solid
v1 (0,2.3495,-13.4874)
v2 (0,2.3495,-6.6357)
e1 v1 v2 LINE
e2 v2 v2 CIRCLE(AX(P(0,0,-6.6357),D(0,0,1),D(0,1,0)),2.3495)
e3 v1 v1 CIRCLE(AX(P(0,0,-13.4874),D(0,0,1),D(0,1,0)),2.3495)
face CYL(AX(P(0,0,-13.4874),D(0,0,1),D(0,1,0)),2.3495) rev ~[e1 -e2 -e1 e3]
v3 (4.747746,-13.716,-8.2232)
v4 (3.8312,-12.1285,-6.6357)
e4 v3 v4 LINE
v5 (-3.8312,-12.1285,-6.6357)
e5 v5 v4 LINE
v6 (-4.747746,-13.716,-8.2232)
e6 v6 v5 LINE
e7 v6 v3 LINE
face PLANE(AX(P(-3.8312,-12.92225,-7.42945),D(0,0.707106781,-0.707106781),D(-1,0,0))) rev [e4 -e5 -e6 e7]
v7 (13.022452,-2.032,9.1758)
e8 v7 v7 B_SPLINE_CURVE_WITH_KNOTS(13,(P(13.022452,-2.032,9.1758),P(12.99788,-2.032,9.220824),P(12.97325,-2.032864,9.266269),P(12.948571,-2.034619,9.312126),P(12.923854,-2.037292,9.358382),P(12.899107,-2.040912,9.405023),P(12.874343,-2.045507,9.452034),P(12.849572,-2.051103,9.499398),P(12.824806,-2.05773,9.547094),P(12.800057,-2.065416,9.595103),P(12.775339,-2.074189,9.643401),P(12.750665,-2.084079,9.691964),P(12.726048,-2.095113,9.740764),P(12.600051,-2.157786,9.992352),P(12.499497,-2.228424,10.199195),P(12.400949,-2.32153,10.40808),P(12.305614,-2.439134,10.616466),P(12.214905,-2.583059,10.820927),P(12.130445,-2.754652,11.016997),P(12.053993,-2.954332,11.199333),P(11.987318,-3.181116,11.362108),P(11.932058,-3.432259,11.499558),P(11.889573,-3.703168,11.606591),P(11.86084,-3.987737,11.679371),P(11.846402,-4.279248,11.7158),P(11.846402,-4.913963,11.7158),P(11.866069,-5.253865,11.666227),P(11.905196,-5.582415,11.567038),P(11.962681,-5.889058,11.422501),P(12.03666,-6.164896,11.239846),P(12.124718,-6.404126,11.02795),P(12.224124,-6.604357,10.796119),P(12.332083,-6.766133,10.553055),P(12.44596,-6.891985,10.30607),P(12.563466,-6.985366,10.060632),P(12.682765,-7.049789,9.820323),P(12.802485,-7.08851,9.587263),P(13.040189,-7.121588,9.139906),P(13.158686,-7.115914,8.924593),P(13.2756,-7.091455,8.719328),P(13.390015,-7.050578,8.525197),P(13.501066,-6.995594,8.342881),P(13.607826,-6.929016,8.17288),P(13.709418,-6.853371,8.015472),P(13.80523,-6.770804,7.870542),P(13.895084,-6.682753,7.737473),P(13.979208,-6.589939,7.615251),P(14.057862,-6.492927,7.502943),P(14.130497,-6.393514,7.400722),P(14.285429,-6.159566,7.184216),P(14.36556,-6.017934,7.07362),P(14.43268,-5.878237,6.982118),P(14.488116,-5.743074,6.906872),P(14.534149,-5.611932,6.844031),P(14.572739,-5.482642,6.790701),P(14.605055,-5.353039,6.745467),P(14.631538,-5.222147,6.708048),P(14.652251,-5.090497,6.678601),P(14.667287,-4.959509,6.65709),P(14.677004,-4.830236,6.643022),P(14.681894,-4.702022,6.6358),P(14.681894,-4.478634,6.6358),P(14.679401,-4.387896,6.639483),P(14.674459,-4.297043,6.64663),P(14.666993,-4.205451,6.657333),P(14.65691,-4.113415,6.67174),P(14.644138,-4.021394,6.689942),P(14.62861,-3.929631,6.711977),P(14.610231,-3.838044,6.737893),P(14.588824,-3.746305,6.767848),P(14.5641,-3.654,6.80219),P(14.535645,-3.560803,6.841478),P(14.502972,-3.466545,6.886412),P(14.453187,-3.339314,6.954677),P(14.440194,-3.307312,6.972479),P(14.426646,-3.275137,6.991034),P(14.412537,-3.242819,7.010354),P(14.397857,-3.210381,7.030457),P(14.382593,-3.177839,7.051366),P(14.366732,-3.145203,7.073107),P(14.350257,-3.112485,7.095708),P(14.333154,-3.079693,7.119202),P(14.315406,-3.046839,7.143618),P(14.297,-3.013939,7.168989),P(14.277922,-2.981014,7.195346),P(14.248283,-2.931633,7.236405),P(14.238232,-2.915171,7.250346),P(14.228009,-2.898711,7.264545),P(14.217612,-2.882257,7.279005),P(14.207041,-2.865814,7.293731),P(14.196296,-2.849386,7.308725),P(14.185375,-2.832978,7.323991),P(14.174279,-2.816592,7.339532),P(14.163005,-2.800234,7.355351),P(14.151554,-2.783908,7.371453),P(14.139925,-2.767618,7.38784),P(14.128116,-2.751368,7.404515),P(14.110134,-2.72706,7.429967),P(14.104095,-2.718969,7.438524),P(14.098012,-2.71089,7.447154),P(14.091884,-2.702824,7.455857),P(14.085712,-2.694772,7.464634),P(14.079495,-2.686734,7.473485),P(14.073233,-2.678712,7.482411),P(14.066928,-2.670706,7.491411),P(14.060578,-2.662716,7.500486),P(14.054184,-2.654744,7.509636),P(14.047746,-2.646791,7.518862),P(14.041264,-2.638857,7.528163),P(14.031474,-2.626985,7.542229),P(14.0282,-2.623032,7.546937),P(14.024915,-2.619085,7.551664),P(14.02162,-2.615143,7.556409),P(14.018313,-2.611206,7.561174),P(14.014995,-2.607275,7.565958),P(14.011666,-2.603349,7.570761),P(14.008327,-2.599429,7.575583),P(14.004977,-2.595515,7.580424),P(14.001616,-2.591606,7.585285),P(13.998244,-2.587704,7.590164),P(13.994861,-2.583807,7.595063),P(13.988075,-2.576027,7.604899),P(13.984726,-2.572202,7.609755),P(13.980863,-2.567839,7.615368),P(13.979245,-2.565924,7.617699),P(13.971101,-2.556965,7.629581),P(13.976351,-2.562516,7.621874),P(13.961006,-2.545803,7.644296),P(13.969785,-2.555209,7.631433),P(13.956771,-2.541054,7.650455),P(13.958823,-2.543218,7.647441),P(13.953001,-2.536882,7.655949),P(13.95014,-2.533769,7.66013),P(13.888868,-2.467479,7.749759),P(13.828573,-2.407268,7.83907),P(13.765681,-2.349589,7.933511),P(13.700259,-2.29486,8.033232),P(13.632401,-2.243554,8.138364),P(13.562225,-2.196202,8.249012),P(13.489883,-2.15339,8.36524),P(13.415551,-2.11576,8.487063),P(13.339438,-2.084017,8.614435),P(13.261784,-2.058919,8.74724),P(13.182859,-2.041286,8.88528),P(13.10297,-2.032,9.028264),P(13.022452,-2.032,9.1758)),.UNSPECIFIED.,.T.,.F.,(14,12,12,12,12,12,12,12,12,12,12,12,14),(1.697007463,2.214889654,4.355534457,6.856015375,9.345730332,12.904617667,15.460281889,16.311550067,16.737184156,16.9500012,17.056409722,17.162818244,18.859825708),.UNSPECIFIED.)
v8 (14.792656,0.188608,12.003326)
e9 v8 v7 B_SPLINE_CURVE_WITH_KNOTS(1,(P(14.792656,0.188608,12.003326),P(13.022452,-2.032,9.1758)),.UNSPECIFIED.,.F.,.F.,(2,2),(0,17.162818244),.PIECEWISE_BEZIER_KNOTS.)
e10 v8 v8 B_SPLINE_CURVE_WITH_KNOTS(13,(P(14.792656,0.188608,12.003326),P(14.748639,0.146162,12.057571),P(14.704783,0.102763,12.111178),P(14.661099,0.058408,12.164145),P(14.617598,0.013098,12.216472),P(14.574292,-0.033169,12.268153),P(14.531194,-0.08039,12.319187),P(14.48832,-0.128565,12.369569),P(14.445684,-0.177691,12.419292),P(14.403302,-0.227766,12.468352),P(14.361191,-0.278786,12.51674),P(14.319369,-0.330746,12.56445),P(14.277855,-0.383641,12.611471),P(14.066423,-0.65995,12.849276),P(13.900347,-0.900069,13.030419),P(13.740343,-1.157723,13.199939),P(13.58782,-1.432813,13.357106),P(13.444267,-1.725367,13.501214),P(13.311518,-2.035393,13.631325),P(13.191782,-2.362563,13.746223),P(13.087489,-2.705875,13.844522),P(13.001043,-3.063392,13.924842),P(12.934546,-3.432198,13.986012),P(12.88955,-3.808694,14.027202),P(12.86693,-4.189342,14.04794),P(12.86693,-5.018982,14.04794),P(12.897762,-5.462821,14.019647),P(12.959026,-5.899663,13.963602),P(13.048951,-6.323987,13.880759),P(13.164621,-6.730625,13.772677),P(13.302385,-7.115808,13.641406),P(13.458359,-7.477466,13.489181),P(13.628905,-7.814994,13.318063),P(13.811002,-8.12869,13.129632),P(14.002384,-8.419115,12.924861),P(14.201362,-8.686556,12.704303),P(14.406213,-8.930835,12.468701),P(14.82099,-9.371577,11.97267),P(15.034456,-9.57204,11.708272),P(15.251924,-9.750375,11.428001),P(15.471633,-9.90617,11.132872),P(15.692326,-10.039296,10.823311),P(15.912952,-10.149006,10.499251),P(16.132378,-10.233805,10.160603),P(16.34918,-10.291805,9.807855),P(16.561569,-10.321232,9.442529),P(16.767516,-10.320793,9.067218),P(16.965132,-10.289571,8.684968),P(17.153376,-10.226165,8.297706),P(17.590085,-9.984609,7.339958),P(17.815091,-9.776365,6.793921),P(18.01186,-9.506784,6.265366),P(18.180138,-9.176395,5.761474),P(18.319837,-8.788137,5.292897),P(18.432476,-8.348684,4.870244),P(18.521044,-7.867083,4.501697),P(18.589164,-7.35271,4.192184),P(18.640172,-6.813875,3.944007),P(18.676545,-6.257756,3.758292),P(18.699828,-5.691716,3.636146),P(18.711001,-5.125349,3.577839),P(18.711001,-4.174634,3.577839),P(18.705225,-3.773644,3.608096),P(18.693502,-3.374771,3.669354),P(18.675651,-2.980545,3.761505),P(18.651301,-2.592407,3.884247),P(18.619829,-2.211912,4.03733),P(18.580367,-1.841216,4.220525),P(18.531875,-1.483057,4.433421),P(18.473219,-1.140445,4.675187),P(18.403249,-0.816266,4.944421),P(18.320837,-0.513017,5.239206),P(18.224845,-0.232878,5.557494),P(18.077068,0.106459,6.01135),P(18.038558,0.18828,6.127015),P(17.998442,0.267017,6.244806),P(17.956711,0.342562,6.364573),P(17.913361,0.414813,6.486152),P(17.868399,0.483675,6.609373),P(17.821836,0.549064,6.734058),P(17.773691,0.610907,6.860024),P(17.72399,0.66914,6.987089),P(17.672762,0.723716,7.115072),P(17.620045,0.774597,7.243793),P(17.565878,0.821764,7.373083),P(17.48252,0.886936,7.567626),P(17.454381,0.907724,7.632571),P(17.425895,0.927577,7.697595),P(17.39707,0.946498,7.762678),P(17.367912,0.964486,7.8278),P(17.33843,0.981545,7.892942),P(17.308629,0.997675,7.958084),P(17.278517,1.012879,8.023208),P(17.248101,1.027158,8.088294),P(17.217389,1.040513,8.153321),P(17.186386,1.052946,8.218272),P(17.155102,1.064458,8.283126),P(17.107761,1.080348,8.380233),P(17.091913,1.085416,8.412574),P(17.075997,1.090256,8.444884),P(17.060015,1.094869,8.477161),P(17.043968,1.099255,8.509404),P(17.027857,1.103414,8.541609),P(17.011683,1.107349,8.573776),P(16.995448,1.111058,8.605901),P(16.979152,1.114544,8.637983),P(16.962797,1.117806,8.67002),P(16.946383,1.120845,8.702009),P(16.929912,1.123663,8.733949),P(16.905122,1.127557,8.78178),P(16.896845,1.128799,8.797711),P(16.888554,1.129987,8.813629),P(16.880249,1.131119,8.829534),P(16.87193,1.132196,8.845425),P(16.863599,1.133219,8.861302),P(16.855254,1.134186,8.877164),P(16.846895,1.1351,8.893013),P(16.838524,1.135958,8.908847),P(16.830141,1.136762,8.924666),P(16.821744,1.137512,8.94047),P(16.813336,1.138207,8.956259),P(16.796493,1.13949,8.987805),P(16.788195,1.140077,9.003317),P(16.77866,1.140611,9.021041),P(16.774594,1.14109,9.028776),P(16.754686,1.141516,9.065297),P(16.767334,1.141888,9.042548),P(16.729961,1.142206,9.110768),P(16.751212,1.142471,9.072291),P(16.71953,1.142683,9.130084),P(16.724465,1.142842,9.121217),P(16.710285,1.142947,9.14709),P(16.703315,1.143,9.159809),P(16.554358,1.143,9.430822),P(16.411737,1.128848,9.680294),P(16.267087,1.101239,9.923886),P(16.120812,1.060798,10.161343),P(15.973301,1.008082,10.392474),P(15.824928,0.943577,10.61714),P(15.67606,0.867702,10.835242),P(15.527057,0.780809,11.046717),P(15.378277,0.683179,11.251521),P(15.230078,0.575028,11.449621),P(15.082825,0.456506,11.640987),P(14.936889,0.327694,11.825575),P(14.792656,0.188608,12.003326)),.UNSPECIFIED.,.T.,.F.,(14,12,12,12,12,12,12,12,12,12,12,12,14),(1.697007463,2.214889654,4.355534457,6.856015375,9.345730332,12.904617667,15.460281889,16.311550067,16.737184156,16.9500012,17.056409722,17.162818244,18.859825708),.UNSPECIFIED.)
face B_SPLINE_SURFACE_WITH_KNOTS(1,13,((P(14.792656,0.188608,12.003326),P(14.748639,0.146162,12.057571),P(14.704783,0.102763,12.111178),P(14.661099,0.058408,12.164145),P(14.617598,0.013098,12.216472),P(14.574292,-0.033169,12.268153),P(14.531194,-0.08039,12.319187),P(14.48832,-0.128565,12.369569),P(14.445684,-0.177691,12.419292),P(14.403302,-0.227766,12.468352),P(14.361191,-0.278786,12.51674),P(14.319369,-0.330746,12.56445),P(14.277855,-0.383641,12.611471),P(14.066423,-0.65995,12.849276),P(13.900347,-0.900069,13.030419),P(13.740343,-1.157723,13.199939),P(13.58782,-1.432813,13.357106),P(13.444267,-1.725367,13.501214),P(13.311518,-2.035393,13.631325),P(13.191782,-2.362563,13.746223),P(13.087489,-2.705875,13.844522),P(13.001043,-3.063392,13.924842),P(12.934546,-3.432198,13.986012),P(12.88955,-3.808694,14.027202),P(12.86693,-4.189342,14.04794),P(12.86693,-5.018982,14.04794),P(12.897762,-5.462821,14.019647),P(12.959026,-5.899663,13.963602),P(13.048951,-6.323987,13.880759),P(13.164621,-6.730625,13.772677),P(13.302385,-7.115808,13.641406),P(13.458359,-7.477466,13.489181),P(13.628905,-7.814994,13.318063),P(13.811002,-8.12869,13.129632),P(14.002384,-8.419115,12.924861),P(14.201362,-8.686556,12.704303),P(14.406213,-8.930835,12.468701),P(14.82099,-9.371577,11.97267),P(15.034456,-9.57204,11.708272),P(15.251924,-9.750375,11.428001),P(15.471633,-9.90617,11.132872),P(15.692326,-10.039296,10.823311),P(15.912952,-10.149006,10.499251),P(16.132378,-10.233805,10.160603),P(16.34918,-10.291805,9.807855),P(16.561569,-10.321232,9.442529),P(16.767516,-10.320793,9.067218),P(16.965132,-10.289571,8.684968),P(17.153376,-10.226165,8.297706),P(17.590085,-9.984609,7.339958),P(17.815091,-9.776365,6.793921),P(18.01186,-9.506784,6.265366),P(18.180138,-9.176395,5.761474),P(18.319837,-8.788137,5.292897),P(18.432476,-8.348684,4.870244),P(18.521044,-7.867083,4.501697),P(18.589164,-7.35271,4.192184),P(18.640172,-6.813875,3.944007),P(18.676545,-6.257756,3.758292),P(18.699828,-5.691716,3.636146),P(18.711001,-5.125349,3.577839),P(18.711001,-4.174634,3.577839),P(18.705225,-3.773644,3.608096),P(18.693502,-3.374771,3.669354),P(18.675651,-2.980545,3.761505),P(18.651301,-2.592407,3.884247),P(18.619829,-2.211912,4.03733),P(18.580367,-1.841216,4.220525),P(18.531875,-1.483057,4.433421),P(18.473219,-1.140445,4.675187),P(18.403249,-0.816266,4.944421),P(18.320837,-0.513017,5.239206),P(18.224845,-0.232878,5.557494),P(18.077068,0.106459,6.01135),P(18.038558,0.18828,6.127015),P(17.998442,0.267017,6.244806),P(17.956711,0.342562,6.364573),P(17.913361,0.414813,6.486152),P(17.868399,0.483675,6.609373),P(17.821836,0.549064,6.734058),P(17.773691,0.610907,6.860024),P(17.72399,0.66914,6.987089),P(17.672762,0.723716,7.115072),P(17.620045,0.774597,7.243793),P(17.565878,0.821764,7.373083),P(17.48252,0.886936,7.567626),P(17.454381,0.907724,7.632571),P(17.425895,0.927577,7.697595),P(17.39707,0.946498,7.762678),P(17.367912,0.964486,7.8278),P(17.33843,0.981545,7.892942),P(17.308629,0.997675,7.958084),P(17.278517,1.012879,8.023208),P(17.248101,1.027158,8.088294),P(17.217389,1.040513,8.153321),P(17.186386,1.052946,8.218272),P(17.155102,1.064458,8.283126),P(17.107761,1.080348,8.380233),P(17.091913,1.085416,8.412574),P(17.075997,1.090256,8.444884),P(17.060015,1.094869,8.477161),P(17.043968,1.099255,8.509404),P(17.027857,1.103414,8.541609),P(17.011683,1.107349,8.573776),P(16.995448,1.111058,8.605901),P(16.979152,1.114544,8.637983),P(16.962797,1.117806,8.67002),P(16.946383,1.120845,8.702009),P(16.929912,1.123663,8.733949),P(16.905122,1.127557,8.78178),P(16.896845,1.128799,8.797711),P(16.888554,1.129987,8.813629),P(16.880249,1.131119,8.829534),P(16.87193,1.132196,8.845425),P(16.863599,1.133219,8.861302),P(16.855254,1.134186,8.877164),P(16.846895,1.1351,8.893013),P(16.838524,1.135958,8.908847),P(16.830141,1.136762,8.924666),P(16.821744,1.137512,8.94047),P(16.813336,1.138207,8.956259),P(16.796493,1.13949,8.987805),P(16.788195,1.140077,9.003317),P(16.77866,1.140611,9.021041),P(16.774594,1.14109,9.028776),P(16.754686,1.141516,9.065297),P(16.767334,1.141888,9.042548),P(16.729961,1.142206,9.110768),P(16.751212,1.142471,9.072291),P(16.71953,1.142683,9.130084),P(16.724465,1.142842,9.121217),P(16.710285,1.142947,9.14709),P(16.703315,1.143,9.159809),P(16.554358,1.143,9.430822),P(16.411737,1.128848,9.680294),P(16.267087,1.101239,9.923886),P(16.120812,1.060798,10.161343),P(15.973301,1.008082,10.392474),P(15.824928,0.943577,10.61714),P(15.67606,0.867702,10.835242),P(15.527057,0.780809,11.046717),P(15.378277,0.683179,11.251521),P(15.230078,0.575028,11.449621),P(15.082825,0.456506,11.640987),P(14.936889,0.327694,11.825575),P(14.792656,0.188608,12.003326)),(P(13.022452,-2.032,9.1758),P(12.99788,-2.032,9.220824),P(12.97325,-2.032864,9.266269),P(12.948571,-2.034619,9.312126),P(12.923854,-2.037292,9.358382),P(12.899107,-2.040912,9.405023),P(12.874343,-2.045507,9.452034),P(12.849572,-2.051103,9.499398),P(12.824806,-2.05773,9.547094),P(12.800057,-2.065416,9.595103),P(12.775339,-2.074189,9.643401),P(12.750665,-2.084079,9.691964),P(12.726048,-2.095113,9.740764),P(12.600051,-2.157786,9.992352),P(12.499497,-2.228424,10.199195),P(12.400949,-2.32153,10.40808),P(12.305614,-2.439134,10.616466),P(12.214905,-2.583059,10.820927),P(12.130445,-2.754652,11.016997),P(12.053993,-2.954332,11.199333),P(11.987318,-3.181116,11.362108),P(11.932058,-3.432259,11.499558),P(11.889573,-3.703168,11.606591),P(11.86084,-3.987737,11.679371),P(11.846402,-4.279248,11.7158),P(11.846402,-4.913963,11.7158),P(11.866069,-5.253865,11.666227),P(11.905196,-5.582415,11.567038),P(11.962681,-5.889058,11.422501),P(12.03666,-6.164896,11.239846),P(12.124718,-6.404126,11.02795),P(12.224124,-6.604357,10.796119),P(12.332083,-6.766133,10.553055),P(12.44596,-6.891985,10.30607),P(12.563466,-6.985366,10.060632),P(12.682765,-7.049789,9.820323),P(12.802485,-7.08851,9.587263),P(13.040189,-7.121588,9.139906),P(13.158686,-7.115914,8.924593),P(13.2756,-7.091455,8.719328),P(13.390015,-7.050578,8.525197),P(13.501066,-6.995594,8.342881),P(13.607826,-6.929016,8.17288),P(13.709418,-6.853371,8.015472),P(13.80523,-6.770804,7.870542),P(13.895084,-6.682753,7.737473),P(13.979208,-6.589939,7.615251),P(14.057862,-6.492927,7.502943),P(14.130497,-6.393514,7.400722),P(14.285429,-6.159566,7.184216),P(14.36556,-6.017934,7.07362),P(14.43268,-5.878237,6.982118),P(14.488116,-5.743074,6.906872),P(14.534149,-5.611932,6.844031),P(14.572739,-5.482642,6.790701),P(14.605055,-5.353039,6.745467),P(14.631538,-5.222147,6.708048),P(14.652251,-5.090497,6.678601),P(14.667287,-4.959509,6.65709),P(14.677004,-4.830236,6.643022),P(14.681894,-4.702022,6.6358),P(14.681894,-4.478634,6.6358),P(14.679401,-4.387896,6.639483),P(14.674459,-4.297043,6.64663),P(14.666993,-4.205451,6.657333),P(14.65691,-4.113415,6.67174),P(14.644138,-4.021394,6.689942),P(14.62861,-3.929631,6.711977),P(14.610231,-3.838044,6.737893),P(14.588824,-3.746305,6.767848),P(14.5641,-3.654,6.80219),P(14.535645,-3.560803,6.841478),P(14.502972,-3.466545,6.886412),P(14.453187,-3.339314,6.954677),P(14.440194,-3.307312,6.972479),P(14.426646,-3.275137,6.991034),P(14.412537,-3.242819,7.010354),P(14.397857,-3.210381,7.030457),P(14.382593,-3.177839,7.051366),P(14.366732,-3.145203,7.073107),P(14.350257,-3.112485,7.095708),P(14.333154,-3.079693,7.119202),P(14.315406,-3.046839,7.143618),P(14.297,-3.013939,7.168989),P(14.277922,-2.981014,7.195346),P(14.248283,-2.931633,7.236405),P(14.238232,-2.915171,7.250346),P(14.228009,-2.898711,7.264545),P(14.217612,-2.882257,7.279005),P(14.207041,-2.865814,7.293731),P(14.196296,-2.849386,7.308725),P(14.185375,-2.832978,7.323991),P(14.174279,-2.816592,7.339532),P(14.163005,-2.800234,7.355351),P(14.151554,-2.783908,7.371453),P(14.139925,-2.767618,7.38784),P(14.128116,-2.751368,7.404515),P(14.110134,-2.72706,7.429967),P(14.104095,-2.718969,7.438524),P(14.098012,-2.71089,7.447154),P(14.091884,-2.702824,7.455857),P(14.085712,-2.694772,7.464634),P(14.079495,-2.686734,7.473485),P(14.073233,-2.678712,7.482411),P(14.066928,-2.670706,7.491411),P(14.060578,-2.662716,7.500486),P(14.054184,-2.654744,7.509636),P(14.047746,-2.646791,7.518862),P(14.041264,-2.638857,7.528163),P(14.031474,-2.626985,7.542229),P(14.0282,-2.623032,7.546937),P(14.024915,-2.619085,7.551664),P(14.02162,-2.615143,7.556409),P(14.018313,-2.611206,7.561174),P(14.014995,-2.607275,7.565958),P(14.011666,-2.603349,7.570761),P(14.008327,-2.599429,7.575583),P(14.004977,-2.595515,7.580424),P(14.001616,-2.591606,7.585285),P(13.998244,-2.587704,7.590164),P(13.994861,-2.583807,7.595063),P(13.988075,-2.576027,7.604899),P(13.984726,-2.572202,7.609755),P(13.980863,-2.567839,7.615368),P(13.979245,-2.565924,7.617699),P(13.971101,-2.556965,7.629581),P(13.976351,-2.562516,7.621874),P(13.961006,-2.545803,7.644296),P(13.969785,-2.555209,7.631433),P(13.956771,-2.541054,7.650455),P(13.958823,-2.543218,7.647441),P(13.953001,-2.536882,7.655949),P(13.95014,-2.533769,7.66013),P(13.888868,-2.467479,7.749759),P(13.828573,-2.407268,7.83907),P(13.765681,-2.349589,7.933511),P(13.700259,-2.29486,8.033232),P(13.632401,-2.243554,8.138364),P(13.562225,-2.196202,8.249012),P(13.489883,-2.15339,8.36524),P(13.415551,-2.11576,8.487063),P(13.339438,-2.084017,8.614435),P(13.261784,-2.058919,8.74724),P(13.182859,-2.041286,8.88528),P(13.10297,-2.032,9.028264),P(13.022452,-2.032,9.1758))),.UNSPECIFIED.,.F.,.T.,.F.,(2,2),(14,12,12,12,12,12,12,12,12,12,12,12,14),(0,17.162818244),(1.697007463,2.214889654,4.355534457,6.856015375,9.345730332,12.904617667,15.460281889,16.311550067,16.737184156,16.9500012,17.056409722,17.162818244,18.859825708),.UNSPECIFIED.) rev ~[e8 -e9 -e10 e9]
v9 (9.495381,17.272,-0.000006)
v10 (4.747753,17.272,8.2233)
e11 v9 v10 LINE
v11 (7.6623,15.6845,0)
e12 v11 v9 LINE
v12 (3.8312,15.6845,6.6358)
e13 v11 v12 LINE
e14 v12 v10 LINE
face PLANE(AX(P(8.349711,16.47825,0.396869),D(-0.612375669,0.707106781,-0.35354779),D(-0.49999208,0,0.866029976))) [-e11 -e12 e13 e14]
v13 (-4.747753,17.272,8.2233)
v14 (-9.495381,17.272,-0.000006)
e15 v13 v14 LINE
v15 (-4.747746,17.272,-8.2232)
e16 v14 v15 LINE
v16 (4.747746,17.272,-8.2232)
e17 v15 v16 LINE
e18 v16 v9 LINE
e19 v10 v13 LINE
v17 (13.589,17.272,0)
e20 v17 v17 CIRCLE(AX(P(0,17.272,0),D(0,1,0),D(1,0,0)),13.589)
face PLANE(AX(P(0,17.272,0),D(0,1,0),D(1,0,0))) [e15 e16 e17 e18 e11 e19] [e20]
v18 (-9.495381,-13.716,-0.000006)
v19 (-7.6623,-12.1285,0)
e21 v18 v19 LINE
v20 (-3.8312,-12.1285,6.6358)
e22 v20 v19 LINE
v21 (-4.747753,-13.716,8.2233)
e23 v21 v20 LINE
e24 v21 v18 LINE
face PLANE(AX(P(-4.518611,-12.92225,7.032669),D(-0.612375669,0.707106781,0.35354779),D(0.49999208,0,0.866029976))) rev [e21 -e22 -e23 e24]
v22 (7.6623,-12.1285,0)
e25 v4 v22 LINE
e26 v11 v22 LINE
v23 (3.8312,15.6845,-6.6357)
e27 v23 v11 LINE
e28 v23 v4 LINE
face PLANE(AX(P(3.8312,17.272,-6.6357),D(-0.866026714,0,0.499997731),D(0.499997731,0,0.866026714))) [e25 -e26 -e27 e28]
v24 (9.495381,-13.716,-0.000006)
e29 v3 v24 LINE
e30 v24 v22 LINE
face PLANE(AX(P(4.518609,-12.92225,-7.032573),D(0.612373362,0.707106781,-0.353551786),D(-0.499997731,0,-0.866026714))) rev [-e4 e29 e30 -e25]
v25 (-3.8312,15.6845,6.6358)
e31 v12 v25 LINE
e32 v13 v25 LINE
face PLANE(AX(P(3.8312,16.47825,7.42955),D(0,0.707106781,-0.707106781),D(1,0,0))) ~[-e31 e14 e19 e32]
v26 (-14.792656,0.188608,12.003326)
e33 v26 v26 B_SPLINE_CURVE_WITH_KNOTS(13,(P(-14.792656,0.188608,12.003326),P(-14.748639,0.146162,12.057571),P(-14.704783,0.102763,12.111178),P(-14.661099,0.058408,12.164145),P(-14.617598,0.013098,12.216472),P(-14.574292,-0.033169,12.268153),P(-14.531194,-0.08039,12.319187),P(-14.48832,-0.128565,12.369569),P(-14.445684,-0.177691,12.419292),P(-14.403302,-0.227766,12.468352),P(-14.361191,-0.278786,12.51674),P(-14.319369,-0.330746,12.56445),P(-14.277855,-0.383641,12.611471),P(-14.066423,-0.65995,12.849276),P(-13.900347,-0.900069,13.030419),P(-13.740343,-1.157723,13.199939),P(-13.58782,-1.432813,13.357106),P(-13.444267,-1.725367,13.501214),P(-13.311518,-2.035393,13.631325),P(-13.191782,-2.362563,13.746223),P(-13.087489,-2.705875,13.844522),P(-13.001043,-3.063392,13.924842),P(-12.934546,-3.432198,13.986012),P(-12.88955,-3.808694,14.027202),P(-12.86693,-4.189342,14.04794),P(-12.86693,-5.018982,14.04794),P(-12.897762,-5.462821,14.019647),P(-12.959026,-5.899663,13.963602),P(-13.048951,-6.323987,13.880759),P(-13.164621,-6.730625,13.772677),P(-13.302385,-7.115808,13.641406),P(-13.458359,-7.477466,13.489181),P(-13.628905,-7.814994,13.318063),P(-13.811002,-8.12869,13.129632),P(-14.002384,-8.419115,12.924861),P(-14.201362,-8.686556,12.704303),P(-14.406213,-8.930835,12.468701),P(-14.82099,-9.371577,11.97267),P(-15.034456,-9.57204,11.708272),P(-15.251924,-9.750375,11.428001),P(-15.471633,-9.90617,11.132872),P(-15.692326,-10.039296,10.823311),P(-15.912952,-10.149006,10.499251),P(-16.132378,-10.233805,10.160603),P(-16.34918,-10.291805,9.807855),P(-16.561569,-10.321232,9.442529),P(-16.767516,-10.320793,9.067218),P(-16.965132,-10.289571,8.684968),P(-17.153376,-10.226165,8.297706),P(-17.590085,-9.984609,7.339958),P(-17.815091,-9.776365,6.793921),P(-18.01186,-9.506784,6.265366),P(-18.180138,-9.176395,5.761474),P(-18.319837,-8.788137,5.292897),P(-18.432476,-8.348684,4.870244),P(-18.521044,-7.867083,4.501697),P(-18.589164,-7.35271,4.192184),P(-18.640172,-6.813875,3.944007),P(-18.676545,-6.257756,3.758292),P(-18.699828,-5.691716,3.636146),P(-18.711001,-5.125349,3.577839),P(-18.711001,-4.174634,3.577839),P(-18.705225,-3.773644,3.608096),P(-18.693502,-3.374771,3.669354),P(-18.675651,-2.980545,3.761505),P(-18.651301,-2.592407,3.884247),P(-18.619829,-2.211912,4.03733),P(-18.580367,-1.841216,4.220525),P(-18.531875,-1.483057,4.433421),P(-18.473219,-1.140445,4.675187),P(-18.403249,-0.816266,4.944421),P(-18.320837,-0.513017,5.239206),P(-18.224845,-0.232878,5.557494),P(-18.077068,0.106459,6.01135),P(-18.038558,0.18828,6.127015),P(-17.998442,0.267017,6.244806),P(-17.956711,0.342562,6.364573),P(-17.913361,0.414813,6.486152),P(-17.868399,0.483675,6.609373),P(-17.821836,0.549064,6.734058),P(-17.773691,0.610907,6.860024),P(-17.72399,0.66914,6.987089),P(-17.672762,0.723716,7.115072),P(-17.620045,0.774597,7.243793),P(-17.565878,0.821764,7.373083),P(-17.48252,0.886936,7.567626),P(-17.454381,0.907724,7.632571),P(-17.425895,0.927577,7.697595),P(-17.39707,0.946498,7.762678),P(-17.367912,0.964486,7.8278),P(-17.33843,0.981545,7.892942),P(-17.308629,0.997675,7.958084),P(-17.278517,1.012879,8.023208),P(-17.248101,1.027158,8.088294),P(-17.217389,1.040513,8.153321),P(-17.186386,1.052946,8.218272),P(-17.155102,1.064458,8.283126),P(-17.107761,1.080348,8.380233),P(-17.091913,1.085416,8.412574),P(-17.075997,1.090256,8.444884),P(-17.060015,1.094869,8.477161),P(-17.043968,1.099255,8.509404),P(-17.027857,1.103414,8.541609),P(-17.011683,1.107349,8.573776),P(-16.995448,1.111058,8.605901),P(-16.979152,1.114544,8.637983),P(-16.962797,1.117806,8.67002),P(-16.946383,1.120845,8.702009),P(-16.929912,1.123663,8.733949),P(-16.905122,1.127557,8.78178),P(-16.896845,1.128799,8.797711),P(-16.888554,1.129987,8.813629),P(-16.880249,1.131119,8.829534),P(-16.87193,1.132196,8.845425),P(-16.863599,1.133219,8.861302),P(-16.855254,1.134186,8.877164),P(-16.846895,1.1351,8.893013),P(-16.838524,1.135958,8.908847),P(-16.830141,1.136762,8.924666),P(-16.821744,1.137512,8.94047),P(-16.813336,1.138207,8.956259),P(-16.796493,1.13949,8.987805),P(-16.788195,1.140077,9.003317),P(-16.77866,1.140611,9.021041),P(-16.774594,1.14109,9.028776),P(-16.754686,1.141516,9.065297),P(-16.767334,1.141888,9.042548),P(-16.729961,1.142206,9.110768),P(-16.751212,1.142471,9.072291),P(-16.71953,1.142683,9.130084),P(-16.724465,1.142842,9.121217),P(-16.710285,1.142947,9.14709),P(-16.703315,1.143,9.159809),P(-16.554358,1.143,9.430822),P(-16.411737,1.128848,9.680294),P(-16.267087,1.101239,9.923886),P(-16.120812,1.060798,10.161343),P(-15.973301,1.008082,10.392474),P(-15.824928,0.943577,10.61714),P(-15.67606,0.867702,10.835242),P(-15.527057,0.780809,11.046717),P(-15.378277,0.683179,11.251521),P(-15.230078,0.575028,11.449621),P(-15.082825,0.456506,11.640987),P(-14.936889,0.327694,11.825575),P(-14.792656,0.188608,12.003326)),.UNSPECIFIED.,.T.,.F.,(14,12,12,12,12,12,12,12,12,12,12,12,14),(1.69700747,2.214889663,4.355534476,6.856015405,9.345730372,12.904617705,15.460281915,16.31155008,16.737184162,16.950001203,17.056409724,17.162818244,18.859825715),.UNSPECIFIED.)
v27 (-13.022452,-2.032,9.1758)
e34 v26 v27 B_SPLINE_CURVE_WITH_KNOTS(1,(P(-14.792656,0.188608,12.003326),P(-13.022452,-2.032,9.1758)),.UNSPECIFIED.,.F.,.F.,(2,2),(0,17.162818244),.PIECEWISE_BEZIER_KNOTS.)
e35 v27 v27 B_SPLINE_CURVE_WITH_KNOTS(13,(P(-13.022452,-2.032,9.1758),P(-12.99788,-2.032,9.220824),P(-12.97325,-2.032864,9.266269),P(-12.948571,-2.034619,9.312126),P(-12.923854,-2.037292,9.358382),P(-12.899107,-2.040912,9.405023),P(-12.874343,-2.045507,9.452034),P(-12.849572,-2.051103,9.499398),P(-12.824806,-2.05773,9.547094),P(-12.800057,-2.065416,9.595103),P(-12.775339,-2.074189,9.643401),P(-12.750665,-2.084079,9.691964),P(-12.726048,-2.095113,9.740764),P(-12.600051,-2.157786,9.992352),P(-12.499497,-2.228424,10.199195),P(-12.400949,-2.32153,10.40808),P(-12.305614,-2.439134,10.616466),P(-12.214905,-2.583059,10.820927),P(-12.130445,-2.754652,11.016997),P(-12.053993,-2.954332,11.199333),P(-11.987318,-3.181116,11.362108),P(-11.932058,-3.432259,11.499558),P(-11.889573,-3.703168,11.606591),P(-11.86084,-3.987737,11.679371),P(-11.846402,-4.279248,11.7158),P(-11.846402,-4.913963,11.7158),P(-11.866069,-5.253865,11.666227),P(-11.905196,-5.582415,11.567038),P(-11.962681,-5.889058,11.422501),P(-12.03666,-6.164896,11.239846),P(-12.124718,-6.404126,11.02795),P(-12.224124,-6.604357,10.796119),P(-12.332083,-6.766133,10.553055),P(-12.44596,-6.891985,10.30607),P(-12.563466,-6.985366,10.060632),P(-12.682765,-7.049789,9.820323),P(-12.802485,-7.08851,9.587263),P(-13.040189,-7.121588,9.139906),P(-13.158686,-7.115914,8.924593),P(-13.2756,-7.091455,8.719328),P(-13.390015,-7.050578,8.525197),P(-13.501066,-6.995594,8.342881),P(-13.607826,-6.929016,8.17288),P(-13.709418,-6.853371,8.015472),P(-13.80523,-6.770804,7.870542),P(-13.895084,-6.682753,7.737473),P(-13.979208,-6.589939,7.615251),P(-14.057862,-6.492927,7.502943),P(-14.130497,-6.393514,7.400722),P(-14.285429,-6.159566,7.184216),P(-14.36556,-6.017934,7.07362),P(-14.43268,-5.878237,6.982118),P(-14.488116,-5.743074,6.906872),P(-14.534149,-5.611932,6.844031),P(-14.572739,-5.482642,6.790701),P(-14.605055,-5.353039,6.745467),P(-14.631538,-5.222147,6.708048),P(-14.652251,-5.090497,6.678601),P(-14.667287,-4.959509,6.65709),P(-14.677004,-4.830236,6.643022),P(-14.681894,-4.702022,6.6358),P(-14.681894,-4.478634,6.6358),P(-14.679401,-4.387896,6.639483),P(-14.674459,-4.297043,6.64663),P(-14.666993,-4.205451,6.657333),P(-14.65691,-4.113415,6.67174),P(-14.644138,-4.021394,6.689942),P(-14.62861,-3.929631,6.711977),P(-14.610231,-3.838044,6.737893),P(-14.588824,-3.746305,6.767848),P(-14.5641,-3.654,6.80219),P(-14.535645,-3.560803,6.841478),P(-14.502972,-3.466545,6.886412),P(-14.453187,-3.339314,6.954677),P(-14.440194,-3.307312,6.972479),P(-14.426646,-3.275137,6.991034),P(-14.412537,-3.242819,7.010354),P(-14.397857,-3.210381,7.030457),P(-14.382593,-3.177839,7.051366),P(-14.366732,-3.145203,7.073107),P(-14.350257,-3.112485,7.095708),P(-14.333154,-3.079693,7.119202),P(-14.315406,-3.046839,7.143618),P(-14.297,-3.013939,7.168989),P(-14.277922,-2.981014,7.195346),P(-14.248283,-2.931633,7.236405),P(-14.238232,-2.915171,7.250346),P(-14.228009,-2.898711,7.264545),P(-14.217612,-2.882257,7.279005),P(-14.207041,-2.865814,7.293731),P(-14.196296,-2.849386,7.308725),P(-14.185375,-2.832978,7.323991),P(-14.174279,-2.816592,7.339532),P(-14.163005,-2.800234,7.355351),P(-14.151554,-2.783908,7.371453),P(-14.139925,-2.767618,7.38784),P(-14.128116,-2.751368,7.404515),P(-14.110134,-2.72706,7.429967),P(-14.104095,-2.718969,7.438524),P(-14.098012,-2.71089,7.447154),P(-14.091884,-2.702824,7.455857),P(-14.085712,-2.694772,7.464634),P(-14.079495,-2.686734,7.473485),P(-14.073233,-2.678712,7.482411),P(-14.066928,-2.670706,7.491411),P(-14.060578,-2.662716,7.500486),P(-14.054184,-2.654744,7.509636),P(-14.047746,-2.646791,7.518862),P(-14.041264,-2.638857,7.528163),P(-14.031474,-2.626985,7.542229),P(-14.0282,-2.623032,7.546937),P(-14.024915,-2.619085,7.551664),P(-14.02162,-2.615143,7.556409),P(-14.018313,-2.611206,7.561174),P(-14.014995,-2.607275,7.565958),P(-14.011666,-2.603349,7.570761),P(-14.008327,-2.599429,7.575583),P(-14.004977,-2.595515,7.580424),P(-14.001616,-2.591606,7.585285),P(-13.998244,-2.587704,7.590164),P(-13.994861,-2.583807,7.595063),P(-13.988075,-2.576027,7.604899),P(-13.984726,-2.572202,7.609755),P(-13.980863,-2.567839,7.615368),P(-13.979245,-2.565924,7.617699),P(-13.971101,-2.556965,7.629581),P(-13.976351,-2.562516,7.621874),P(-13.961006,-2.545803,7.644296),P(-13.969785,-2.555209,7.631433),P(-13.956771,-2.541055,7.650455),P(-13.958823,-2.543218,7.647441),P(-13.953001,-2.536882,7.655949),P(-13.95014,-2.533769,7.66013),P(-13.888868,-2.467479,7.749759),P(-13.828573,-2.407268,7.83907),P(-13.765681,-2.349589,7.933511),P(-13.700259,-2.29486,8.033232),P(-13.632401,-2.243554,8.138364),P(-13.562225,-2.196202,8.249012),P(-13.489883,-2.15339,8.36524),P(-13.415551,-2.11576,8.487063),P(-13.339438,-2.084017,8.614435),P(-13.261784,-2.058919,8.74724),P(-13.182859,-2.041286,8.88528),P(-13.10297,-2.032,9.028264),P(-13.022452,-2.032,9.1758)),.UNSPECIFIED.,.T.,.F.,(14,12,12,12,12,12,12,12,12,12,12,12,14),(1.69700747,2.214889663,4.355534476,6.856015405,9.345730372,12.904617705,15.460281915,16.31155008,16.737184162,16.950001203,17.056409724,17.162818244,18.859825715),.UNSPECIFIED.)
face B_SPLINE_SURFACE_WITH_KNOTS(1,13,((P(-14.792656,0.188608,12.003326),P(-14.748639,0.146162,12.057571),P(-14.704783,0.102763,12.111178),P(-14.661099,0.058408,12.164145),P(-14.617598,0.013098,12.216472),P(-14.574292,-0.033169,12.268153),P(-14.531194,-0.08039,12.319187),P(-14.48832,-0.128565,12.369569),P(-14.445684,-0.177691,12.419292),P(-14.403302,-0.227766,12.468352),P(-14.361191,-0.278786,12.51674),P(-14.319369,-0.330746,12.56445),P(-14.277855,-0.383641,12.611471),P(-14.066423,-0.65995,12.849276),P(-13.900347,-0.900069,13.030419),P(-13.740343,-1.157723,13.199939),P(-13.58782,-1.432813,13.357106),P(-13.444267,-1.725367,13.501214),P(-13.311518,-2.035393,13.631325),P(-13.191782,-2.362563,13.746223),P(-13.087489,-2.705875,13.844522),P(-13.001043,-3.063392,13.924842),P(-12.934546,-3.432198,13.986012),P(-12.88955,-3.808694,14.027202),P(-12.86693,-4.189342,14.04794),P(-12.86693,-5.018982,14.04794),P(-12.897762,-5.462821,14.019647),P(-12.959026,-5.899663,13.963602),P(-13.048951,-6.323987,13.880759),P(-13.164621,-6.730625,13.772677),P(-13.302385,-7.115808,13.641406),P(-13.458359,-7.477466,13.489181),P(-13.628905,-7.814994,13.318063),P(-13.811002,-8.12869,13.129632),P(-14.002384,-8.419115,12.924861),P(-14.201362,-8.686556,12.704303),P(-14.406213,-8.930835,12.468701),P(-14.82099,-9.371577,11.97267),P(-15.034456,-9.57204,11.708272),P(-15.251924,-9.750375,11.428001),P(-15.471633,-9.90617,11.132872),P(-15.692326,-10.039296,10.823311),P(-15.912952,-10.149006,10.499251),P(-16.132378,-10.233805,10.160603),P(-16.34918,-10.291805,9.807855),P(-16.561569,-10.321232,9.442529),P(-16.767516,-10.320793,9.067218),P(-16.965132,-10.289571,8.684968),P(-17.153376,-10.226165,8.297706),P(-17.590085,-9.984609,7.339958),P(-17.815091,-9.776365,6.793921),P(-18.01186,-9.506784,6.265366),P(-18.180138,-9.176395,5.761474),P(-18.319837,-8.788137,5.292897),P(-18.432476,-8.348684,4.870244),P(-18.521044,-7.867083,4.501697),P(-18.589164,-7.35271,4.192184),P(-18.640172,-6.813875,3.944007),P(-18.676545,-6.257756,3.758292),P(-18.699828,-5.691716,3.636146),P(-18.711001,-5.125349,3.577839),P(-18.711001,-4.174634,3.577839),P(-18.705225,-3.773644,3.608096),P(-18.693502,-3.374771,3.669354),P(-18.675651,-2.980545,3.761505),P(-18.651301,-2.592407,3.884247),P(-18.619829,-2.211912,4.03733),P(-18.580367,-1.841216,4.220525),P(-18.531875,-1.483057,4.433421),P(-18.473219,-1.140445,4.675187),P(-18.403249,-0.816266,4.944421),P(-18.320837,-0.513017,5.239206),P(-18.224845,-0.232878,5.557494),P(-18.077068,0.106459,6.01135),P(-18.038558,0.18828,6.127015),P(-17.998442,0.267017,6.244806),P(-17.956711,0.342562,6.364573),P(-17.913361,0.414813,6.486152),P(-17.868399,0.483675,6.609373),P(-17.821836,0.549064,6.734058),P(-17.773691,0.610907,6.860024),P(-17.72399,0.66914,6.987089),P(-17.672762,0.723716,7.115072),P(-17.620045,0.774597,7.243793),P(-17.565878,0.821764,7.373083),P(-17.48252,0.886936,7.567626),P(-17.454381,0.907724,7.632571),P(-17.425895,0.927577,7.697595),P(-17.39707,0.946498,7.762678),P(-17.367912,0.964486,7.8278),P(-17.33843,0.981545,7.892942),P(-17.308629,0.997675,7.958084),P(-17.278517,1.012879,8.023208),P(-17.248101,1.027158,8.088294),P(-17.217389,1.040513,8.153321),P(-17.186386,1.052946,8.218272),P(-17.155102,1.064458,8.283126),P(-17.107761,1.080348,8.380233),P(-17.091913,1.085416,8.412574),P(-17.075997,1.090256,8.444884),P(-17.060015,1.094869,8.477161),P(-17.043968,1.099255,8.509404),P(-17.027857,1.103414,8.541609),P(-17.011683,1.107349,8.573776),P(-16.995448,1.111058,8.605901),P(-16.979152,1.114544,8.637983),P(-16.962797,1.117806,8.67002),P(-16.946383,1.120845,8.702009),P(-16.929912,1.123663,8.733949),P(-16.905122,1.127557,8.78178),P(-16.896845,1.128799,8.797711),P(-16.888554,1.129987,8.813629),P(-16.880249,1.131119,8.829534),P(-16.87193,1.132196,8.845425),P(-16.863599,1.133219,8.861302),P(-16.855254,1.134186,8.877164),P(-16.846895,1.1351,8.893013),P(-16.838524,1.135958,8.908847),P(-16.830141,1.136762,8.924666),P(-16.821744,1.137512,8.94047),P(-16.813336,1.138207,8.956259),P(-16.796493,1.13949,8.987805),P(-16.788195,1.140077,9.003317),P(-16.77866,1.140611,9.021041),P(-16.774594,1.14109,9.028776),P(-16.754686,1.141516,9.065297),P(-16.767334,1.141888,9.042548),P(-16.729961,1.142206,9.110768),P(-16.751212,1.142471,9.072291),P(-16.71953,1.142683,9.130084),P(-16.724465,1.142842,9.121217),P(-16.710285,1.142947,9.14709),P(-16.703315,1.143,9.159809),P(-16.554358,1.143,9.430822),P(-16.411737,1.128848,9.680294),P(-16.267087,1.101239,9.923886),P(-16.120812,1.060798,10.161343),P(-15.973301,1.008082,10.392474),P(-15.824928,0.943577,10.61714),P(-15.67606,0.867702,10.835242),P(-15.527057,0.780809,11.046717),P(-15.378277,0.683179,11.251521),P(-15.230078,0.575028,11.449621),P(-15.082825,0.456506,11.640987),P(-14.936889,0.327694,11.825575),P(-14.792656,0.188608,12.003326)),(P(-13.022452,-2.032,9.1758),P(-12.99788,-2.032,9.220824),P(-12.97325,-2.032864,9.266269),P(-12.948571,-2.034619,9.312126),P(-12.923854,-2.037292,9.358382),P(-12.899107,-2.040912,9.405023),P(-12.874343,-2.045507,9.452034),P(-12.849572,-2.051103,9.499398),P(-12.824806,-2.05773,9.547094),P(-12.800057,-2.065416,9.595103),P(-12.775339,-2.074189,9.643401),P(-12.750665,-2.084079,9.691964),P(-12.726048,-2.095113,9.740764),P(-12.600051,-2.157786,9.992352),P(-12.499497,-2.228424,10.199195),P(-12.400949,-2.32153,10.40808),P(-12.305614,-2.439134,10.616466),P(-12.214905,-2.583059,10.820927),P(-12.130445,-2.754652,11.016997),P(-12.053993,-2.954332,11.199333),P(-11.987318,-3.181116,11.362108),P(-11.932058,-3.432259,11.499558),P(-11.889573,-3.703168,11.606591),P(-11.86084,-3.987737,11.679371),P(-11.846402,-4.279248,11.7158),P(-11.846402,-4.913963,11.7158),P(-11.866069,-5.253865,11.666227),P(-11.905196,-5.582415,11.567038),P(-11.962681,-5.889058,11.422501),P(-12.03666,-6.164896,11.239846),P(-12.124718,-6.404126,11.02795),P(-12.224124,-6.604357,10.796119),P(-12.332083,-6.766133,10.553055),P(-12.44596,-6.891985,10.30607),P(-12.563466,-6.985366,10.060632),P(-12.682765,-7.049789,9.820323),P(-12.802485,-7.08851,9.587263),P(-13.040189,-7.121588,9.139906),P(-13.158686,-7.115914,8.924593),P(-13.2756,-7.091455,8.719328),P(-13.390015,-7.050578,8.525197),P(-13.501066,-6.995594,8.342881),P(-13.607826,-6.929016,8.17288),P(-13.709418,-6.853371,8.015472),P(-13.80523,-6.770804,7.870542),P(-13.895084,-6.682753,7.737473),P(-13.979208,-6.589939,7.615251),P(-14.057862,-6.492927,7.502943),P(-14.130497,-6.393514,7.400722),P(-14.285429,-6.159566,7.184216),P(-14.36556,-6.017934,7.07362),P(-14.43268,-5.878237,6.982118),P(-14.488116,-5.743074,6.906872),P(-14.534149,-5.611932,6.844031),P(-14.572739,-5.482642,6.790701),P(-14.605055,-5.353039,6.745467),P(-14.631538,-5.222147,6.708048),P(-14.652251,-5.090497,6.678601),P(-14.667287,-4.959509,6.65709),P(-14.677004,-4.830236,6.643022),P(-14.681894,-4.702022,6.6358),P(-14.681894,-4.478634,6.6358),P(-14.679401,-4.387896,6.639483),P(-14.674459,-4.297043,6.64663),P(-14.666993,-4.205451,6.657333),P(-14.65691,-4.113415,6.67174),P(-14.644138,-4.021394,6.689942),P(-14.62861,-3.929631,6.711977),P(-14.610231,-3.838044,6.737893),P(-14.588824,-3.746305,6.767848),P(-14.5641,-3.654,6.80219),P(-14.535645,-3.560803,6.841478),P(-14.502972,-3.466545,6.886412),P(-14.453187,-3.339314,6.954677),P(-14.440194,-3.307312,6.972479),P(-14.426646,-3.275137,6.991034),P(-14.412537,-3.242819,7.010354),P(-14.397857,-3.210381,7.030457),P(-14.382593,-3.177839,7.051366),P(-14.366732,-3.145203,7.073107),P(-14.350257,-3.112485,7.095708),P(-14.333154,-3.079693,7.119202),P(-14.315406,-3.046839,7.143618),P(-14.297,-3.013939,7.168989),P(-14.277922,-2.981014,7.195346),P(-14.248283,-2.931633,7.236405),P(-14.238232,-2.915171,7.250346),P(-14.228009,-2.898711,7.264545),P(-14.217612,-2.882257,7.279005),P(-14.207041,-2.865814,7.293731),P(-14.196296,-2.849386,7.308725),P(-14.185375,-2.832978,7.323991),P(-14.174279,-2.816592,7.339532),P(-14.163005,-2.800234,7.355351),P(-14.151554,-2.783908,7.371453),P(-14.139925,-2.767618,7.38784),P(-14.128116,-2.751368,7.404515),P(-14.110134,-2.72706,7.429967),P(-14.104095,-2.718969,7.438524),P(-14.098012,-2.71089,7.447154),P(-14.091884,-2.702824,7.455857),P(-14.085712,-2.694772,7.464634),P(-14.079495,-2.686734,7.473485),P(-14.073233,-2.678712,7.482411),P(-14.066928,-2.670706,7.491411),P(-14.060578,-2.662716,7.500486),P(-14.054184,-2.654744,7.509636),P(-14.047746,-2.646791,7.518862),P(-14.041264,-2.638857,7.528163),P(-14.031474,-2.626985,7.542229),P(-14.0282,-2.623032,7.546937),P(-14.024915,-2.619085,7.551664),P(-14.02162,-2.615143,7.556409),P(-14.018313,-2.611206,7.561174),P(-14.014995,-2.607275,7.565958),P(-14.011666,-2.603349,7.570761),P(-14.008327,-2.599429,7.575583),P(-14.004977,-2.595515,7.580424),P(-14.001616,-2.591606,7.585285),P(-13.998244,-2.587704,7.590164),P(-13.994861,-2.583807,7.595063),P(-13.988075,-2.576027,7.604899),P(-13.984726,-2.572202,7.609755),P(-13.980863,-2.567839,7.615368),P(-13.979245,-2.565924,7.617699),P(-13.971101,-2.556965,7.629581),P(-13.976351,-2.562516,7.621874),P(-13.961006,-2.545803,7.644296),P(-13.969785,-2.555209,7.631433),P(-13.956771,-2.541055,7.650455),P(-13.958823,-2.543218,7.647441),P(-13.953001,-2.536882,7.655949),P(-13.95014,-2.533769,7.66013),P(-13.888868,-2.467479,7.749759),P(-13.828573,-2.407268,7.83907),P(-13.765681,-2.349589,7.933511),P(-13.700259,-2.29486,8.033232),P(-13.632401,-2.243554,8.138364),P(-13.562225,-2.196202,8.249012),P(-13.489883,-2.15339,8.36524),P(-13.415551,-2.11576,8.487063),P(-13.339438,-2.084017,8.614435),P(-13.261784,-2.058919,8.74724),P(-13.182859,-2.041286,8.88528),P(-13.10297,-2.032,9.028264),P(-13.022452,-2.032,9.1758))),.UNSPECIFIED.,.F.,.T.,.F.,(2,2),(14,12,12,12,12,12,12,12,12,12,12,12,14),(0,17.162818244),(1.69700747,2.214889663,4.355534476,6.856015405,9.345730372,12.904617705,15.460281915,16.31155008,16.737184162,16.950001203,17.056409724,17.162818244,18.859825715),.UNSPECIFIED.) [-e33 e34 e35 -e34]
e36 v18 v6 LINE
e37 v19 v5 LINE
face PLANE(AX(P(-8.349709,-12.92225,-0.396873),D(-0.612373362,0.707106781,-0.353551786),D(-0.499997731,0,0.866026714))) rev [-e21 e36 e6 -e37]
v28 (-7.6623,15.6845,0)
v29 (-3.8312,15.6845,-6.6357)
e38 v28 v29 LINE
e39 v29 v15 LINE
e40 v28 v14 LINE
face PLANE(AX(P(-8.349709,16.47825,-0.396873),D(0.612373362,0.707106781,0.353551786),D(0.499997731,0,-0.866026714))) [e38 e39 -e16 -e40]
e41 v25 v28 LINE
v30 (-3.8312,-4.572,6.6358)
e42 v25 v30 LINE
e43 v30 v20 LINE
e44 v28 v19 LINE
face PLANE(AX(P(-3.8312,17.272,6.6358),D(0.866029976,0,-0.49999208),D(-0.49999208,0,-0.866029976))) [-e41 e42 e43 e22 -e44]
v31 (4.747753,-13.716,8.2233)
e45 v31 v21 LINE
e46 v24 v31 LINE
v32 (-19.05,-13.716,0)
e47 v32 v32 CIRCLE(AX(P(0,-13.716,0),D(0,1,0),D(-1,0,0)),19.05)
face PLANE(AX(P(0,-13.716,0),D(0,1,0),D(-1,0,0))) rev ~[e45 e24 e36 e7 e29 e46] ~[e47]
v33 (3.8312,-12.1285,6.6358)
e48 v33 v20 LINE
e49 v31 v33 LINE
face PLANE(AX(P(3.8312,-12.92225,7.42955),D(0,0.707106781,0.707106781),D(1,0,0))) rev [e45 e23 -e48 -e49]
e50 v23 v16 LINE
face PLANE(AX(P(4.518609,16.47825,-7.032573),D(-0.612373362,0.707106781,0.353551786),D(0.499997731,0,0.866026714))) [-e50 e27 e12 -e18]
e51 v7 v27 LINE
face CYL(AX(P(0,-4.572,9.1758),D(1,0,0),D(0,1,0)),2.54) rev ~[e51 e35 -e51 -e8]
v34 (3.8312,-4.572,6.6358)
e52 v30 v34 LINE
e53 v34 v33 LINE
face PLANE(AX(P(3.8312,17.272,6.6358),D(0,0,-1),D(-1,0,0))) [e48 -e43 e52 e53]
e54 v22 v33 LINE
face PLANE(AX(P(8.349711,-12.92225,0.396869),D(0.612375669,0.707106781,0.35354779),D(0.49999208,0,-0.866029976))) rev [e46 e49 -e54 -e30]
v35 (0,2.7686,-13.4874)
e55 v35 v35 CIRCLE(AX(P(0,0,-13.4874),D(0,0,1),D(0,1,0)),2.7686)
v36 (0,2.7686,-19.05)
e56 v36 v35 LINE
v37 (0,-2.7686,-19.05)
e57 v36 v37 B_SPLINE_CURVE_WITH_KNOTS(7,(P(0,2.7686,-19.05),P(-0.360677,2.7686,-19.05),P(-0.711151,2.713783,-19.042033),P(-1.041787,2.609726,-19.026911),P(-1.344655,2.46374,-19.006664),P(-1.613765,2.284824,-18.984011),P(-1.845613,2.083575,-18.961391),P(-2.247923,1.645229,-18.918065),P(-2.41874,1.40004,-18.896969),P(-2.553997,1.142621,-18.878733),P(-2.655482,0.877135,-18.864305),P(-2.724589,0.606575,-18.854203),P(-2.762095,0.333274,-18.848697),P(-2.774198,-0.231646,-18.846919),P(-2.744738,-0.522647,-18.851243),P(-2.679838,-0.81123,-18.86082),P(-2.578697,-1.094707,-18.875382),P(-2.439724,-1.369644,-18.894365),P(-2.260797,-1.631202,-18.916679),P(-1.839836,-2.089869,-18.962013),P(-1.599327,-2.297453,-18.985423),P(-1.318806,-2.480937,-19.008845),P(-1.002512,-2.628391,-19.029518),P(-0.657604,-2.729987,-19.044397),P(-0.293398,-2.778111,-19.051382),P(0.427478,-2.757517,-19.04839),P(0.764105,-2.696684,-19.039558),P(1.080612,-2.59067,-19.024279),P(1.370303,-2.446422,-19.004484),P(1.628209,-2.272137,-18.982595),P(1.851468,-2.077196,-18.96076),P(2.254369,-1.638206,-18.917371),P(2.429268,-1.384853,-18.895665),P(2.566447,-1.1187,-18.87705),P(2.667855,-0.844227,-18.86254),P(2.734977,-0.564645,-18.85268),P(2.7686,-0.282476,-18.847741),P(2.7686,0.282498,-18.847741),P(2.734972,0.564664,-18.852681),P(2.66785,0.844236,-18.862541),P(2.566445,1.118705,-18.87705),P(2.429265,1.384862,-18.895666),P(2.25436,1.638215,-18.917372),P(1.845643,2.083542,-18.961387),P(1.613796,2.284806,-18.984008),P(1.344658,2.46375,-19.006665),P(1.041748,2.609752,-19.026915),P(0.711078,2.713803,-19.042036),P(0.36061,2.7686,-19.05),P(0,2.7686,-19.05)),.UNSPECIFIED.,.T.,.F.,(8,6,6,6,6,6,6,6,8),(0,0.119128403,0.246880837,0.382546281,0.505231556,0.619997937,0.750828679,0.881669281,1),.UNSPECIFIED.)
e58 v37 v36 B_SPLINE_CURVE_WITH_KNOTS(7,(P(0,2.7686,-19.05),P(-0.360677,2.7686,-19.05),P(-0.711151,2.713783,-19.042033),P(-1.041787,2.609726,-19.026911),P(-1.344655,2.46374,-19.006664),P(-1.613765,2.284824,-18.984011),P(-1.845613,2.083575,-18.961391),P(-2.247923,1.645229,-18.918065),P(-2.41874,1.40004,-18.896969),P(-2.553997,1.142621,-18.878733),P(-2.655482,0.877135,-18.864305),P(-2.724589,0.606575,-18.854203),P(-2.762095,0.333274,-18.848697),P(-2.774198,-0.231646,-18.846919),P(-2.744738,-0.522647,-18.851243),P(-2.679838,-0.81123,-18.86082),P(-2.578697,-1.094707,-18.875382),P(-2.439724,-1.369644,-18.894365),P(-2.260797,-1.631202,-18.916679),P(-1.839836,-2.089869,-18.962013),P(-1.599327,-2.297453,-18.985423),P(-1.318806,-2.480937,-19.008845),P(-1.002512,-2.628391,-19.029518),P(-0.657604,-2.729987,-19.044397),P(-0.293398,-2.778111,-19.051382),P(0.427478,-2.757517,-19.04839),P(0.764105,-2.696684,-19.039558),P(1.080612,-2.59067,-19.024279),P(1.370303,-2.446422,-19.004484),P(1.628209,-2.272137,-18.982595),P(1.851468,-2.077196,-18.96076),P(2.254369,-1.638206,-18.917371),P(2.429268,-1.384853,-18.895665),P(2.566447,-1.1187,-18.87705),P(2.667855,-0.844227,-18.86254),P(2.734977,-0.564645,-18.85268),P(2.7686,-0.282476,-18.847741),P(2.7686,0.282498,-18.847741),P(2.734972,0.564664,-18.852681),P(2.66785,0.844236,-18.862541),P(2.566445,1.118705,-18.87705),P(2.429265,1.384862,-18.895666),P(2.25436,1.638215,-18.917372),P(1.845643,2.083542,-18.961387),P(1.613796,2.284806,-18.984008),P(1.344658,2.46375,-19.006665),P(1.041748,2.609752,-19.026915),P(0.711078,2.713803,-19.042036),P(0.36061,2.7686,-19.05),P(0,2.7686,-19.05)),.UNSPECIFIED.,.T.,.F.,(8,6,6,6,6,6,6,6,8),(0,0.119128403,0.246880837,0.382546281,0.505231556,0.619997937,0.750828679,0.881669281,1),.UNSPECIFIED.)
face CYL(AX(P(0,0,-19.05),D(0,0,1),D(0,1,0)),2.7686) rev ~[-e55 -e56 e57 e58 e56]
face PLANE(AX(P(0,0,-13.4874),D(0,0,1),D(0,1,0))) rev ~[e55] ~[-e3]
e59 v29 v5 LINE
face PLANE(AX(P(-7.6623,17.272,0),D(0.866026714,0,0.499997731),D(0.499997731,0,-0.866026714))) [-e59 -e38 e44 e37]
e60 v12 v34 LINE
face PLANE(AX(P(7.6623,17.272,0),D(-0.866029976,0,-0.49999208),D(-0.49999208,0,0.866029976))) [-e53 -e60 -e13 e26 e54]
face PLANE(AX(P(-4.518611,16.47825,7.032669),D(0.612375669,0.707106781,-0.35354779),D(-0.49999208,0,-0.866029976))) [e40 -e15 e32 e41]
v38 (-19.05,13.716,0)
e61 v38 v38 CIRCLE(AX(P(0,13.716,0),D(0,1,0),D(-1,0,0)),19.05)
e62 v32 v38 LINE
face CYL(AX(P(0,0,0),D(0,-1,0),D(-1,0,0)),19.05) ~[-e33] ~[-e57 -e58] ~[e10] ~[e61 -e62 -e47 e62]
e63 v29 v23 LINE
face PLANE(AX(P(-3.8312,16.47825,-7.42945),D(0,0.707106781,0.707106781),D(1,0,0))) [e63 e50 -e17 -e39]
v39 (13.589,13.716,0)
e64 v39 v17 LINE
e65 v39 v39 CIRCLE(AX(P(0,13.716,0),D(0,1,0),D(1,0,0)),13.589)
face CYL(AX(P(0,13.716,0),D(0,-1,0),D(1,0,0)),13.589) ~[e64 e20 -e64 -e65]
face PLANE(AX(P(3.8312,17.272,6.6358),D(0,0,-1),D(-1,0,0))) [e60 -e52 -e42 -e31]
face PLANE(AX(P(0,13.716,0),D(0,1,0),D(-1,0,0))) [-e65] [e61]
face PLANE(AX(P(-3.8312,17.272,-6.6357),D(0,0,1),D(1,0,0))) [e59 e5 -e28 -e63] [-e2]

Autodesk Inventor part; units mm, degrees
ref_plane "YZ Plane" through (0, 0, 0) normal (1, 0, 0) x (0, 1, 0)
ref_plane "XZ Plane" through (0, 0, 0) normal (0, 1, 0) x (-1, 0, 0)
sketch "Sketch9" plane through (0, 0, 0) normal (0, 1, 0) x (-1, 0, 0)
  circle A0 centre (0, 0) radius 19.05
  dimension "d53" = 38.1
extrude "Extrusion6" add sketch "Sketch9" along normal mid plane 27.432
sketch "Sketch10" plane through (0, 13.716, 0) normal (0, 1, 0) x (1, 0, 0)
  circle A0 centre (0, 0) radius 13.589
  dimension "idWasher" = 27.178
extrude "Extrusion7" add sketch "Sketch10" along normal blind 3.556
sketch "Sketch11" plane through (0, 17.272, 0) normal (0, 1, 0) x (1, 0, 0)
  line L0 (7.6623, 0) -> (3.8312, -6.6358)
  line L1 (3.8312, -6.6358) -> (-3.8312, -6.6358)
  line L2 (-3.8312, -6.6358) -> (-7.6623, 0)
  line L3 (-7.6623, 0) -> (-3.8312, 6.6357)
  line L4 (-3.8312, 6.6357) -> (3.8312, 6.6357)
  line L5 (3.8312, 6.6357) -> (7.6623, 0)
  point P0 (0, 0)
  point P1 (0, 0)
  dimension "d59" = 13.2715
extrude "Extrusion8" cut sketch "Sketch11" against normal through all
sketch "Sketch12" plane through (0, 0, 0) normal (1, 0, 0) x (0, 1, 0)
  circle A0 centre (-4.572, 9.1758) radius 2.54
  line L0 (17.272, 0) -> (-13.716, 0) projected
  line L1 (-13.716, 19.05) -> (-13.716, -19.05) projected
  point P0 (0, 0)
  dimension "d62" = 5.08
  dimension "d63" = 9.1758
  dimension "oneThirdSpoolHeight" = 9.144
extrude "Extrusion9" cut sketch "Sketch12" along normal through all both and the other way through all
chamfer "Chamfer5" distance 3.175 angle 45 2 edges at (16.6229, -7.1087, 9.3048) (-16.6229, -7.1087, 9.3048)
ref_plane "Work Plane2" through (0, 0, -19.05) normal (0, 0, 1) x (1, 0, 0)
sketch "Sketch13" plane through (0, 0, -19.05) normal (0, 0, 1) x (1, 0, 0)
  point P0 (0, 0)
  point P1 (0, 0)
hole "Hole2" at (0, 0, -19.05) direction (0, 0, 1) diameter 4.699 depth 12.4143 counterbore diameter 5.5372 counterbore depth 5.5626
chamfer "Chamfer6" distance 1.5875 angle 45 12 edges at (-5.7467, 17.272, -3.3179) (0, 17.272, -6.6357) (5.7467, 17.272, -3.3179) (5.7467, 17.272, 3.3179) (0, 17.272, 6.6358) (-5.7467, 17.272, 3.3179) (0, -13.716, 6.6358) (5.7467, -13.716, 3.3179) (5.7467, -13.716, -3.3179) (0, -13.716, -6.6357) (-5.7467, -13.716, -3.3179) (-5.7467, -13.716, 3.3179)
equation "\"d53\" = spoolInteriorDiameter"
equation "\"d59\" = hexDiameter"
equation "\"d62\" = holeForString"
equation "\"d63\" = stringHoleCenterFromHexShaft"
equation "\"oneThirdSpoolHeight\" = 0.333333 * singleSpoolHeight"
equation "\"d67\" = stringHoleChamfer"
equation "\"d77\" = hexHoleChamfer"
equation "\"holeForString\" = stringDiameter + clearanceForString"
equation "\"stringDiameter\" = 3.048"
equation "\"clearanceForString\" = 2.032"
equation "\"spoolHeightWithoutSpacer\" = 69.85"
equation "\"hexShaftDiameter\" = 12.7"
equation "\"clearanceForHexShaft\" = 0.5715"
equation "\"hexDiameter\" = hexShaftDiameter + clearanceForHexShaft"
equation "\"supportChannels\" = 3.81"
equation "\"spoolInteriorDiameter\" = 38.1"
equation "\"spoolInteriroRadius\" = 0.5 * spoolInteriorDiameter"
equation "\"spoolExteriorDiameter\" = 88.9"
equation "\"spoolExteriorRadius\" = 0.5 * spoolExteriorDiameter"
equation "\"spoolFiletRadius\" = 0.5 * supportChannels"
equation "\"holeCenter\" = 0.25 * spoolHeightWithoutSpacer - 0.75 * supportChannels"
equation "\"hexHoleChamfer\" = 1.5875"
equation "\"stringHoleCenterFromHexShaft\" = 0.5 * hexDiameter + 0.5 * holeForString"
equation "\"textCircleDiameter\" = 0.75 * spoolExteriorDiameter"
equation "\"textHeight\" = 6.096"
equation "\"textDepth\" = 1.27"
equation "\"stringHoleChamfer\" = 3.175"
equation "\"spoolTotalHeight\" = 76.2"
equation "\"spaceHeight\" = spoolTotalHeight - spoolHeightWithoutSpacer"
equation "\"spacerDiameter\" = 24.13"
equation "\"singleSpoolHeight\" = 27.432"
properties part number "2SidedSpoolV04" material "PC/ABS Plastic"
